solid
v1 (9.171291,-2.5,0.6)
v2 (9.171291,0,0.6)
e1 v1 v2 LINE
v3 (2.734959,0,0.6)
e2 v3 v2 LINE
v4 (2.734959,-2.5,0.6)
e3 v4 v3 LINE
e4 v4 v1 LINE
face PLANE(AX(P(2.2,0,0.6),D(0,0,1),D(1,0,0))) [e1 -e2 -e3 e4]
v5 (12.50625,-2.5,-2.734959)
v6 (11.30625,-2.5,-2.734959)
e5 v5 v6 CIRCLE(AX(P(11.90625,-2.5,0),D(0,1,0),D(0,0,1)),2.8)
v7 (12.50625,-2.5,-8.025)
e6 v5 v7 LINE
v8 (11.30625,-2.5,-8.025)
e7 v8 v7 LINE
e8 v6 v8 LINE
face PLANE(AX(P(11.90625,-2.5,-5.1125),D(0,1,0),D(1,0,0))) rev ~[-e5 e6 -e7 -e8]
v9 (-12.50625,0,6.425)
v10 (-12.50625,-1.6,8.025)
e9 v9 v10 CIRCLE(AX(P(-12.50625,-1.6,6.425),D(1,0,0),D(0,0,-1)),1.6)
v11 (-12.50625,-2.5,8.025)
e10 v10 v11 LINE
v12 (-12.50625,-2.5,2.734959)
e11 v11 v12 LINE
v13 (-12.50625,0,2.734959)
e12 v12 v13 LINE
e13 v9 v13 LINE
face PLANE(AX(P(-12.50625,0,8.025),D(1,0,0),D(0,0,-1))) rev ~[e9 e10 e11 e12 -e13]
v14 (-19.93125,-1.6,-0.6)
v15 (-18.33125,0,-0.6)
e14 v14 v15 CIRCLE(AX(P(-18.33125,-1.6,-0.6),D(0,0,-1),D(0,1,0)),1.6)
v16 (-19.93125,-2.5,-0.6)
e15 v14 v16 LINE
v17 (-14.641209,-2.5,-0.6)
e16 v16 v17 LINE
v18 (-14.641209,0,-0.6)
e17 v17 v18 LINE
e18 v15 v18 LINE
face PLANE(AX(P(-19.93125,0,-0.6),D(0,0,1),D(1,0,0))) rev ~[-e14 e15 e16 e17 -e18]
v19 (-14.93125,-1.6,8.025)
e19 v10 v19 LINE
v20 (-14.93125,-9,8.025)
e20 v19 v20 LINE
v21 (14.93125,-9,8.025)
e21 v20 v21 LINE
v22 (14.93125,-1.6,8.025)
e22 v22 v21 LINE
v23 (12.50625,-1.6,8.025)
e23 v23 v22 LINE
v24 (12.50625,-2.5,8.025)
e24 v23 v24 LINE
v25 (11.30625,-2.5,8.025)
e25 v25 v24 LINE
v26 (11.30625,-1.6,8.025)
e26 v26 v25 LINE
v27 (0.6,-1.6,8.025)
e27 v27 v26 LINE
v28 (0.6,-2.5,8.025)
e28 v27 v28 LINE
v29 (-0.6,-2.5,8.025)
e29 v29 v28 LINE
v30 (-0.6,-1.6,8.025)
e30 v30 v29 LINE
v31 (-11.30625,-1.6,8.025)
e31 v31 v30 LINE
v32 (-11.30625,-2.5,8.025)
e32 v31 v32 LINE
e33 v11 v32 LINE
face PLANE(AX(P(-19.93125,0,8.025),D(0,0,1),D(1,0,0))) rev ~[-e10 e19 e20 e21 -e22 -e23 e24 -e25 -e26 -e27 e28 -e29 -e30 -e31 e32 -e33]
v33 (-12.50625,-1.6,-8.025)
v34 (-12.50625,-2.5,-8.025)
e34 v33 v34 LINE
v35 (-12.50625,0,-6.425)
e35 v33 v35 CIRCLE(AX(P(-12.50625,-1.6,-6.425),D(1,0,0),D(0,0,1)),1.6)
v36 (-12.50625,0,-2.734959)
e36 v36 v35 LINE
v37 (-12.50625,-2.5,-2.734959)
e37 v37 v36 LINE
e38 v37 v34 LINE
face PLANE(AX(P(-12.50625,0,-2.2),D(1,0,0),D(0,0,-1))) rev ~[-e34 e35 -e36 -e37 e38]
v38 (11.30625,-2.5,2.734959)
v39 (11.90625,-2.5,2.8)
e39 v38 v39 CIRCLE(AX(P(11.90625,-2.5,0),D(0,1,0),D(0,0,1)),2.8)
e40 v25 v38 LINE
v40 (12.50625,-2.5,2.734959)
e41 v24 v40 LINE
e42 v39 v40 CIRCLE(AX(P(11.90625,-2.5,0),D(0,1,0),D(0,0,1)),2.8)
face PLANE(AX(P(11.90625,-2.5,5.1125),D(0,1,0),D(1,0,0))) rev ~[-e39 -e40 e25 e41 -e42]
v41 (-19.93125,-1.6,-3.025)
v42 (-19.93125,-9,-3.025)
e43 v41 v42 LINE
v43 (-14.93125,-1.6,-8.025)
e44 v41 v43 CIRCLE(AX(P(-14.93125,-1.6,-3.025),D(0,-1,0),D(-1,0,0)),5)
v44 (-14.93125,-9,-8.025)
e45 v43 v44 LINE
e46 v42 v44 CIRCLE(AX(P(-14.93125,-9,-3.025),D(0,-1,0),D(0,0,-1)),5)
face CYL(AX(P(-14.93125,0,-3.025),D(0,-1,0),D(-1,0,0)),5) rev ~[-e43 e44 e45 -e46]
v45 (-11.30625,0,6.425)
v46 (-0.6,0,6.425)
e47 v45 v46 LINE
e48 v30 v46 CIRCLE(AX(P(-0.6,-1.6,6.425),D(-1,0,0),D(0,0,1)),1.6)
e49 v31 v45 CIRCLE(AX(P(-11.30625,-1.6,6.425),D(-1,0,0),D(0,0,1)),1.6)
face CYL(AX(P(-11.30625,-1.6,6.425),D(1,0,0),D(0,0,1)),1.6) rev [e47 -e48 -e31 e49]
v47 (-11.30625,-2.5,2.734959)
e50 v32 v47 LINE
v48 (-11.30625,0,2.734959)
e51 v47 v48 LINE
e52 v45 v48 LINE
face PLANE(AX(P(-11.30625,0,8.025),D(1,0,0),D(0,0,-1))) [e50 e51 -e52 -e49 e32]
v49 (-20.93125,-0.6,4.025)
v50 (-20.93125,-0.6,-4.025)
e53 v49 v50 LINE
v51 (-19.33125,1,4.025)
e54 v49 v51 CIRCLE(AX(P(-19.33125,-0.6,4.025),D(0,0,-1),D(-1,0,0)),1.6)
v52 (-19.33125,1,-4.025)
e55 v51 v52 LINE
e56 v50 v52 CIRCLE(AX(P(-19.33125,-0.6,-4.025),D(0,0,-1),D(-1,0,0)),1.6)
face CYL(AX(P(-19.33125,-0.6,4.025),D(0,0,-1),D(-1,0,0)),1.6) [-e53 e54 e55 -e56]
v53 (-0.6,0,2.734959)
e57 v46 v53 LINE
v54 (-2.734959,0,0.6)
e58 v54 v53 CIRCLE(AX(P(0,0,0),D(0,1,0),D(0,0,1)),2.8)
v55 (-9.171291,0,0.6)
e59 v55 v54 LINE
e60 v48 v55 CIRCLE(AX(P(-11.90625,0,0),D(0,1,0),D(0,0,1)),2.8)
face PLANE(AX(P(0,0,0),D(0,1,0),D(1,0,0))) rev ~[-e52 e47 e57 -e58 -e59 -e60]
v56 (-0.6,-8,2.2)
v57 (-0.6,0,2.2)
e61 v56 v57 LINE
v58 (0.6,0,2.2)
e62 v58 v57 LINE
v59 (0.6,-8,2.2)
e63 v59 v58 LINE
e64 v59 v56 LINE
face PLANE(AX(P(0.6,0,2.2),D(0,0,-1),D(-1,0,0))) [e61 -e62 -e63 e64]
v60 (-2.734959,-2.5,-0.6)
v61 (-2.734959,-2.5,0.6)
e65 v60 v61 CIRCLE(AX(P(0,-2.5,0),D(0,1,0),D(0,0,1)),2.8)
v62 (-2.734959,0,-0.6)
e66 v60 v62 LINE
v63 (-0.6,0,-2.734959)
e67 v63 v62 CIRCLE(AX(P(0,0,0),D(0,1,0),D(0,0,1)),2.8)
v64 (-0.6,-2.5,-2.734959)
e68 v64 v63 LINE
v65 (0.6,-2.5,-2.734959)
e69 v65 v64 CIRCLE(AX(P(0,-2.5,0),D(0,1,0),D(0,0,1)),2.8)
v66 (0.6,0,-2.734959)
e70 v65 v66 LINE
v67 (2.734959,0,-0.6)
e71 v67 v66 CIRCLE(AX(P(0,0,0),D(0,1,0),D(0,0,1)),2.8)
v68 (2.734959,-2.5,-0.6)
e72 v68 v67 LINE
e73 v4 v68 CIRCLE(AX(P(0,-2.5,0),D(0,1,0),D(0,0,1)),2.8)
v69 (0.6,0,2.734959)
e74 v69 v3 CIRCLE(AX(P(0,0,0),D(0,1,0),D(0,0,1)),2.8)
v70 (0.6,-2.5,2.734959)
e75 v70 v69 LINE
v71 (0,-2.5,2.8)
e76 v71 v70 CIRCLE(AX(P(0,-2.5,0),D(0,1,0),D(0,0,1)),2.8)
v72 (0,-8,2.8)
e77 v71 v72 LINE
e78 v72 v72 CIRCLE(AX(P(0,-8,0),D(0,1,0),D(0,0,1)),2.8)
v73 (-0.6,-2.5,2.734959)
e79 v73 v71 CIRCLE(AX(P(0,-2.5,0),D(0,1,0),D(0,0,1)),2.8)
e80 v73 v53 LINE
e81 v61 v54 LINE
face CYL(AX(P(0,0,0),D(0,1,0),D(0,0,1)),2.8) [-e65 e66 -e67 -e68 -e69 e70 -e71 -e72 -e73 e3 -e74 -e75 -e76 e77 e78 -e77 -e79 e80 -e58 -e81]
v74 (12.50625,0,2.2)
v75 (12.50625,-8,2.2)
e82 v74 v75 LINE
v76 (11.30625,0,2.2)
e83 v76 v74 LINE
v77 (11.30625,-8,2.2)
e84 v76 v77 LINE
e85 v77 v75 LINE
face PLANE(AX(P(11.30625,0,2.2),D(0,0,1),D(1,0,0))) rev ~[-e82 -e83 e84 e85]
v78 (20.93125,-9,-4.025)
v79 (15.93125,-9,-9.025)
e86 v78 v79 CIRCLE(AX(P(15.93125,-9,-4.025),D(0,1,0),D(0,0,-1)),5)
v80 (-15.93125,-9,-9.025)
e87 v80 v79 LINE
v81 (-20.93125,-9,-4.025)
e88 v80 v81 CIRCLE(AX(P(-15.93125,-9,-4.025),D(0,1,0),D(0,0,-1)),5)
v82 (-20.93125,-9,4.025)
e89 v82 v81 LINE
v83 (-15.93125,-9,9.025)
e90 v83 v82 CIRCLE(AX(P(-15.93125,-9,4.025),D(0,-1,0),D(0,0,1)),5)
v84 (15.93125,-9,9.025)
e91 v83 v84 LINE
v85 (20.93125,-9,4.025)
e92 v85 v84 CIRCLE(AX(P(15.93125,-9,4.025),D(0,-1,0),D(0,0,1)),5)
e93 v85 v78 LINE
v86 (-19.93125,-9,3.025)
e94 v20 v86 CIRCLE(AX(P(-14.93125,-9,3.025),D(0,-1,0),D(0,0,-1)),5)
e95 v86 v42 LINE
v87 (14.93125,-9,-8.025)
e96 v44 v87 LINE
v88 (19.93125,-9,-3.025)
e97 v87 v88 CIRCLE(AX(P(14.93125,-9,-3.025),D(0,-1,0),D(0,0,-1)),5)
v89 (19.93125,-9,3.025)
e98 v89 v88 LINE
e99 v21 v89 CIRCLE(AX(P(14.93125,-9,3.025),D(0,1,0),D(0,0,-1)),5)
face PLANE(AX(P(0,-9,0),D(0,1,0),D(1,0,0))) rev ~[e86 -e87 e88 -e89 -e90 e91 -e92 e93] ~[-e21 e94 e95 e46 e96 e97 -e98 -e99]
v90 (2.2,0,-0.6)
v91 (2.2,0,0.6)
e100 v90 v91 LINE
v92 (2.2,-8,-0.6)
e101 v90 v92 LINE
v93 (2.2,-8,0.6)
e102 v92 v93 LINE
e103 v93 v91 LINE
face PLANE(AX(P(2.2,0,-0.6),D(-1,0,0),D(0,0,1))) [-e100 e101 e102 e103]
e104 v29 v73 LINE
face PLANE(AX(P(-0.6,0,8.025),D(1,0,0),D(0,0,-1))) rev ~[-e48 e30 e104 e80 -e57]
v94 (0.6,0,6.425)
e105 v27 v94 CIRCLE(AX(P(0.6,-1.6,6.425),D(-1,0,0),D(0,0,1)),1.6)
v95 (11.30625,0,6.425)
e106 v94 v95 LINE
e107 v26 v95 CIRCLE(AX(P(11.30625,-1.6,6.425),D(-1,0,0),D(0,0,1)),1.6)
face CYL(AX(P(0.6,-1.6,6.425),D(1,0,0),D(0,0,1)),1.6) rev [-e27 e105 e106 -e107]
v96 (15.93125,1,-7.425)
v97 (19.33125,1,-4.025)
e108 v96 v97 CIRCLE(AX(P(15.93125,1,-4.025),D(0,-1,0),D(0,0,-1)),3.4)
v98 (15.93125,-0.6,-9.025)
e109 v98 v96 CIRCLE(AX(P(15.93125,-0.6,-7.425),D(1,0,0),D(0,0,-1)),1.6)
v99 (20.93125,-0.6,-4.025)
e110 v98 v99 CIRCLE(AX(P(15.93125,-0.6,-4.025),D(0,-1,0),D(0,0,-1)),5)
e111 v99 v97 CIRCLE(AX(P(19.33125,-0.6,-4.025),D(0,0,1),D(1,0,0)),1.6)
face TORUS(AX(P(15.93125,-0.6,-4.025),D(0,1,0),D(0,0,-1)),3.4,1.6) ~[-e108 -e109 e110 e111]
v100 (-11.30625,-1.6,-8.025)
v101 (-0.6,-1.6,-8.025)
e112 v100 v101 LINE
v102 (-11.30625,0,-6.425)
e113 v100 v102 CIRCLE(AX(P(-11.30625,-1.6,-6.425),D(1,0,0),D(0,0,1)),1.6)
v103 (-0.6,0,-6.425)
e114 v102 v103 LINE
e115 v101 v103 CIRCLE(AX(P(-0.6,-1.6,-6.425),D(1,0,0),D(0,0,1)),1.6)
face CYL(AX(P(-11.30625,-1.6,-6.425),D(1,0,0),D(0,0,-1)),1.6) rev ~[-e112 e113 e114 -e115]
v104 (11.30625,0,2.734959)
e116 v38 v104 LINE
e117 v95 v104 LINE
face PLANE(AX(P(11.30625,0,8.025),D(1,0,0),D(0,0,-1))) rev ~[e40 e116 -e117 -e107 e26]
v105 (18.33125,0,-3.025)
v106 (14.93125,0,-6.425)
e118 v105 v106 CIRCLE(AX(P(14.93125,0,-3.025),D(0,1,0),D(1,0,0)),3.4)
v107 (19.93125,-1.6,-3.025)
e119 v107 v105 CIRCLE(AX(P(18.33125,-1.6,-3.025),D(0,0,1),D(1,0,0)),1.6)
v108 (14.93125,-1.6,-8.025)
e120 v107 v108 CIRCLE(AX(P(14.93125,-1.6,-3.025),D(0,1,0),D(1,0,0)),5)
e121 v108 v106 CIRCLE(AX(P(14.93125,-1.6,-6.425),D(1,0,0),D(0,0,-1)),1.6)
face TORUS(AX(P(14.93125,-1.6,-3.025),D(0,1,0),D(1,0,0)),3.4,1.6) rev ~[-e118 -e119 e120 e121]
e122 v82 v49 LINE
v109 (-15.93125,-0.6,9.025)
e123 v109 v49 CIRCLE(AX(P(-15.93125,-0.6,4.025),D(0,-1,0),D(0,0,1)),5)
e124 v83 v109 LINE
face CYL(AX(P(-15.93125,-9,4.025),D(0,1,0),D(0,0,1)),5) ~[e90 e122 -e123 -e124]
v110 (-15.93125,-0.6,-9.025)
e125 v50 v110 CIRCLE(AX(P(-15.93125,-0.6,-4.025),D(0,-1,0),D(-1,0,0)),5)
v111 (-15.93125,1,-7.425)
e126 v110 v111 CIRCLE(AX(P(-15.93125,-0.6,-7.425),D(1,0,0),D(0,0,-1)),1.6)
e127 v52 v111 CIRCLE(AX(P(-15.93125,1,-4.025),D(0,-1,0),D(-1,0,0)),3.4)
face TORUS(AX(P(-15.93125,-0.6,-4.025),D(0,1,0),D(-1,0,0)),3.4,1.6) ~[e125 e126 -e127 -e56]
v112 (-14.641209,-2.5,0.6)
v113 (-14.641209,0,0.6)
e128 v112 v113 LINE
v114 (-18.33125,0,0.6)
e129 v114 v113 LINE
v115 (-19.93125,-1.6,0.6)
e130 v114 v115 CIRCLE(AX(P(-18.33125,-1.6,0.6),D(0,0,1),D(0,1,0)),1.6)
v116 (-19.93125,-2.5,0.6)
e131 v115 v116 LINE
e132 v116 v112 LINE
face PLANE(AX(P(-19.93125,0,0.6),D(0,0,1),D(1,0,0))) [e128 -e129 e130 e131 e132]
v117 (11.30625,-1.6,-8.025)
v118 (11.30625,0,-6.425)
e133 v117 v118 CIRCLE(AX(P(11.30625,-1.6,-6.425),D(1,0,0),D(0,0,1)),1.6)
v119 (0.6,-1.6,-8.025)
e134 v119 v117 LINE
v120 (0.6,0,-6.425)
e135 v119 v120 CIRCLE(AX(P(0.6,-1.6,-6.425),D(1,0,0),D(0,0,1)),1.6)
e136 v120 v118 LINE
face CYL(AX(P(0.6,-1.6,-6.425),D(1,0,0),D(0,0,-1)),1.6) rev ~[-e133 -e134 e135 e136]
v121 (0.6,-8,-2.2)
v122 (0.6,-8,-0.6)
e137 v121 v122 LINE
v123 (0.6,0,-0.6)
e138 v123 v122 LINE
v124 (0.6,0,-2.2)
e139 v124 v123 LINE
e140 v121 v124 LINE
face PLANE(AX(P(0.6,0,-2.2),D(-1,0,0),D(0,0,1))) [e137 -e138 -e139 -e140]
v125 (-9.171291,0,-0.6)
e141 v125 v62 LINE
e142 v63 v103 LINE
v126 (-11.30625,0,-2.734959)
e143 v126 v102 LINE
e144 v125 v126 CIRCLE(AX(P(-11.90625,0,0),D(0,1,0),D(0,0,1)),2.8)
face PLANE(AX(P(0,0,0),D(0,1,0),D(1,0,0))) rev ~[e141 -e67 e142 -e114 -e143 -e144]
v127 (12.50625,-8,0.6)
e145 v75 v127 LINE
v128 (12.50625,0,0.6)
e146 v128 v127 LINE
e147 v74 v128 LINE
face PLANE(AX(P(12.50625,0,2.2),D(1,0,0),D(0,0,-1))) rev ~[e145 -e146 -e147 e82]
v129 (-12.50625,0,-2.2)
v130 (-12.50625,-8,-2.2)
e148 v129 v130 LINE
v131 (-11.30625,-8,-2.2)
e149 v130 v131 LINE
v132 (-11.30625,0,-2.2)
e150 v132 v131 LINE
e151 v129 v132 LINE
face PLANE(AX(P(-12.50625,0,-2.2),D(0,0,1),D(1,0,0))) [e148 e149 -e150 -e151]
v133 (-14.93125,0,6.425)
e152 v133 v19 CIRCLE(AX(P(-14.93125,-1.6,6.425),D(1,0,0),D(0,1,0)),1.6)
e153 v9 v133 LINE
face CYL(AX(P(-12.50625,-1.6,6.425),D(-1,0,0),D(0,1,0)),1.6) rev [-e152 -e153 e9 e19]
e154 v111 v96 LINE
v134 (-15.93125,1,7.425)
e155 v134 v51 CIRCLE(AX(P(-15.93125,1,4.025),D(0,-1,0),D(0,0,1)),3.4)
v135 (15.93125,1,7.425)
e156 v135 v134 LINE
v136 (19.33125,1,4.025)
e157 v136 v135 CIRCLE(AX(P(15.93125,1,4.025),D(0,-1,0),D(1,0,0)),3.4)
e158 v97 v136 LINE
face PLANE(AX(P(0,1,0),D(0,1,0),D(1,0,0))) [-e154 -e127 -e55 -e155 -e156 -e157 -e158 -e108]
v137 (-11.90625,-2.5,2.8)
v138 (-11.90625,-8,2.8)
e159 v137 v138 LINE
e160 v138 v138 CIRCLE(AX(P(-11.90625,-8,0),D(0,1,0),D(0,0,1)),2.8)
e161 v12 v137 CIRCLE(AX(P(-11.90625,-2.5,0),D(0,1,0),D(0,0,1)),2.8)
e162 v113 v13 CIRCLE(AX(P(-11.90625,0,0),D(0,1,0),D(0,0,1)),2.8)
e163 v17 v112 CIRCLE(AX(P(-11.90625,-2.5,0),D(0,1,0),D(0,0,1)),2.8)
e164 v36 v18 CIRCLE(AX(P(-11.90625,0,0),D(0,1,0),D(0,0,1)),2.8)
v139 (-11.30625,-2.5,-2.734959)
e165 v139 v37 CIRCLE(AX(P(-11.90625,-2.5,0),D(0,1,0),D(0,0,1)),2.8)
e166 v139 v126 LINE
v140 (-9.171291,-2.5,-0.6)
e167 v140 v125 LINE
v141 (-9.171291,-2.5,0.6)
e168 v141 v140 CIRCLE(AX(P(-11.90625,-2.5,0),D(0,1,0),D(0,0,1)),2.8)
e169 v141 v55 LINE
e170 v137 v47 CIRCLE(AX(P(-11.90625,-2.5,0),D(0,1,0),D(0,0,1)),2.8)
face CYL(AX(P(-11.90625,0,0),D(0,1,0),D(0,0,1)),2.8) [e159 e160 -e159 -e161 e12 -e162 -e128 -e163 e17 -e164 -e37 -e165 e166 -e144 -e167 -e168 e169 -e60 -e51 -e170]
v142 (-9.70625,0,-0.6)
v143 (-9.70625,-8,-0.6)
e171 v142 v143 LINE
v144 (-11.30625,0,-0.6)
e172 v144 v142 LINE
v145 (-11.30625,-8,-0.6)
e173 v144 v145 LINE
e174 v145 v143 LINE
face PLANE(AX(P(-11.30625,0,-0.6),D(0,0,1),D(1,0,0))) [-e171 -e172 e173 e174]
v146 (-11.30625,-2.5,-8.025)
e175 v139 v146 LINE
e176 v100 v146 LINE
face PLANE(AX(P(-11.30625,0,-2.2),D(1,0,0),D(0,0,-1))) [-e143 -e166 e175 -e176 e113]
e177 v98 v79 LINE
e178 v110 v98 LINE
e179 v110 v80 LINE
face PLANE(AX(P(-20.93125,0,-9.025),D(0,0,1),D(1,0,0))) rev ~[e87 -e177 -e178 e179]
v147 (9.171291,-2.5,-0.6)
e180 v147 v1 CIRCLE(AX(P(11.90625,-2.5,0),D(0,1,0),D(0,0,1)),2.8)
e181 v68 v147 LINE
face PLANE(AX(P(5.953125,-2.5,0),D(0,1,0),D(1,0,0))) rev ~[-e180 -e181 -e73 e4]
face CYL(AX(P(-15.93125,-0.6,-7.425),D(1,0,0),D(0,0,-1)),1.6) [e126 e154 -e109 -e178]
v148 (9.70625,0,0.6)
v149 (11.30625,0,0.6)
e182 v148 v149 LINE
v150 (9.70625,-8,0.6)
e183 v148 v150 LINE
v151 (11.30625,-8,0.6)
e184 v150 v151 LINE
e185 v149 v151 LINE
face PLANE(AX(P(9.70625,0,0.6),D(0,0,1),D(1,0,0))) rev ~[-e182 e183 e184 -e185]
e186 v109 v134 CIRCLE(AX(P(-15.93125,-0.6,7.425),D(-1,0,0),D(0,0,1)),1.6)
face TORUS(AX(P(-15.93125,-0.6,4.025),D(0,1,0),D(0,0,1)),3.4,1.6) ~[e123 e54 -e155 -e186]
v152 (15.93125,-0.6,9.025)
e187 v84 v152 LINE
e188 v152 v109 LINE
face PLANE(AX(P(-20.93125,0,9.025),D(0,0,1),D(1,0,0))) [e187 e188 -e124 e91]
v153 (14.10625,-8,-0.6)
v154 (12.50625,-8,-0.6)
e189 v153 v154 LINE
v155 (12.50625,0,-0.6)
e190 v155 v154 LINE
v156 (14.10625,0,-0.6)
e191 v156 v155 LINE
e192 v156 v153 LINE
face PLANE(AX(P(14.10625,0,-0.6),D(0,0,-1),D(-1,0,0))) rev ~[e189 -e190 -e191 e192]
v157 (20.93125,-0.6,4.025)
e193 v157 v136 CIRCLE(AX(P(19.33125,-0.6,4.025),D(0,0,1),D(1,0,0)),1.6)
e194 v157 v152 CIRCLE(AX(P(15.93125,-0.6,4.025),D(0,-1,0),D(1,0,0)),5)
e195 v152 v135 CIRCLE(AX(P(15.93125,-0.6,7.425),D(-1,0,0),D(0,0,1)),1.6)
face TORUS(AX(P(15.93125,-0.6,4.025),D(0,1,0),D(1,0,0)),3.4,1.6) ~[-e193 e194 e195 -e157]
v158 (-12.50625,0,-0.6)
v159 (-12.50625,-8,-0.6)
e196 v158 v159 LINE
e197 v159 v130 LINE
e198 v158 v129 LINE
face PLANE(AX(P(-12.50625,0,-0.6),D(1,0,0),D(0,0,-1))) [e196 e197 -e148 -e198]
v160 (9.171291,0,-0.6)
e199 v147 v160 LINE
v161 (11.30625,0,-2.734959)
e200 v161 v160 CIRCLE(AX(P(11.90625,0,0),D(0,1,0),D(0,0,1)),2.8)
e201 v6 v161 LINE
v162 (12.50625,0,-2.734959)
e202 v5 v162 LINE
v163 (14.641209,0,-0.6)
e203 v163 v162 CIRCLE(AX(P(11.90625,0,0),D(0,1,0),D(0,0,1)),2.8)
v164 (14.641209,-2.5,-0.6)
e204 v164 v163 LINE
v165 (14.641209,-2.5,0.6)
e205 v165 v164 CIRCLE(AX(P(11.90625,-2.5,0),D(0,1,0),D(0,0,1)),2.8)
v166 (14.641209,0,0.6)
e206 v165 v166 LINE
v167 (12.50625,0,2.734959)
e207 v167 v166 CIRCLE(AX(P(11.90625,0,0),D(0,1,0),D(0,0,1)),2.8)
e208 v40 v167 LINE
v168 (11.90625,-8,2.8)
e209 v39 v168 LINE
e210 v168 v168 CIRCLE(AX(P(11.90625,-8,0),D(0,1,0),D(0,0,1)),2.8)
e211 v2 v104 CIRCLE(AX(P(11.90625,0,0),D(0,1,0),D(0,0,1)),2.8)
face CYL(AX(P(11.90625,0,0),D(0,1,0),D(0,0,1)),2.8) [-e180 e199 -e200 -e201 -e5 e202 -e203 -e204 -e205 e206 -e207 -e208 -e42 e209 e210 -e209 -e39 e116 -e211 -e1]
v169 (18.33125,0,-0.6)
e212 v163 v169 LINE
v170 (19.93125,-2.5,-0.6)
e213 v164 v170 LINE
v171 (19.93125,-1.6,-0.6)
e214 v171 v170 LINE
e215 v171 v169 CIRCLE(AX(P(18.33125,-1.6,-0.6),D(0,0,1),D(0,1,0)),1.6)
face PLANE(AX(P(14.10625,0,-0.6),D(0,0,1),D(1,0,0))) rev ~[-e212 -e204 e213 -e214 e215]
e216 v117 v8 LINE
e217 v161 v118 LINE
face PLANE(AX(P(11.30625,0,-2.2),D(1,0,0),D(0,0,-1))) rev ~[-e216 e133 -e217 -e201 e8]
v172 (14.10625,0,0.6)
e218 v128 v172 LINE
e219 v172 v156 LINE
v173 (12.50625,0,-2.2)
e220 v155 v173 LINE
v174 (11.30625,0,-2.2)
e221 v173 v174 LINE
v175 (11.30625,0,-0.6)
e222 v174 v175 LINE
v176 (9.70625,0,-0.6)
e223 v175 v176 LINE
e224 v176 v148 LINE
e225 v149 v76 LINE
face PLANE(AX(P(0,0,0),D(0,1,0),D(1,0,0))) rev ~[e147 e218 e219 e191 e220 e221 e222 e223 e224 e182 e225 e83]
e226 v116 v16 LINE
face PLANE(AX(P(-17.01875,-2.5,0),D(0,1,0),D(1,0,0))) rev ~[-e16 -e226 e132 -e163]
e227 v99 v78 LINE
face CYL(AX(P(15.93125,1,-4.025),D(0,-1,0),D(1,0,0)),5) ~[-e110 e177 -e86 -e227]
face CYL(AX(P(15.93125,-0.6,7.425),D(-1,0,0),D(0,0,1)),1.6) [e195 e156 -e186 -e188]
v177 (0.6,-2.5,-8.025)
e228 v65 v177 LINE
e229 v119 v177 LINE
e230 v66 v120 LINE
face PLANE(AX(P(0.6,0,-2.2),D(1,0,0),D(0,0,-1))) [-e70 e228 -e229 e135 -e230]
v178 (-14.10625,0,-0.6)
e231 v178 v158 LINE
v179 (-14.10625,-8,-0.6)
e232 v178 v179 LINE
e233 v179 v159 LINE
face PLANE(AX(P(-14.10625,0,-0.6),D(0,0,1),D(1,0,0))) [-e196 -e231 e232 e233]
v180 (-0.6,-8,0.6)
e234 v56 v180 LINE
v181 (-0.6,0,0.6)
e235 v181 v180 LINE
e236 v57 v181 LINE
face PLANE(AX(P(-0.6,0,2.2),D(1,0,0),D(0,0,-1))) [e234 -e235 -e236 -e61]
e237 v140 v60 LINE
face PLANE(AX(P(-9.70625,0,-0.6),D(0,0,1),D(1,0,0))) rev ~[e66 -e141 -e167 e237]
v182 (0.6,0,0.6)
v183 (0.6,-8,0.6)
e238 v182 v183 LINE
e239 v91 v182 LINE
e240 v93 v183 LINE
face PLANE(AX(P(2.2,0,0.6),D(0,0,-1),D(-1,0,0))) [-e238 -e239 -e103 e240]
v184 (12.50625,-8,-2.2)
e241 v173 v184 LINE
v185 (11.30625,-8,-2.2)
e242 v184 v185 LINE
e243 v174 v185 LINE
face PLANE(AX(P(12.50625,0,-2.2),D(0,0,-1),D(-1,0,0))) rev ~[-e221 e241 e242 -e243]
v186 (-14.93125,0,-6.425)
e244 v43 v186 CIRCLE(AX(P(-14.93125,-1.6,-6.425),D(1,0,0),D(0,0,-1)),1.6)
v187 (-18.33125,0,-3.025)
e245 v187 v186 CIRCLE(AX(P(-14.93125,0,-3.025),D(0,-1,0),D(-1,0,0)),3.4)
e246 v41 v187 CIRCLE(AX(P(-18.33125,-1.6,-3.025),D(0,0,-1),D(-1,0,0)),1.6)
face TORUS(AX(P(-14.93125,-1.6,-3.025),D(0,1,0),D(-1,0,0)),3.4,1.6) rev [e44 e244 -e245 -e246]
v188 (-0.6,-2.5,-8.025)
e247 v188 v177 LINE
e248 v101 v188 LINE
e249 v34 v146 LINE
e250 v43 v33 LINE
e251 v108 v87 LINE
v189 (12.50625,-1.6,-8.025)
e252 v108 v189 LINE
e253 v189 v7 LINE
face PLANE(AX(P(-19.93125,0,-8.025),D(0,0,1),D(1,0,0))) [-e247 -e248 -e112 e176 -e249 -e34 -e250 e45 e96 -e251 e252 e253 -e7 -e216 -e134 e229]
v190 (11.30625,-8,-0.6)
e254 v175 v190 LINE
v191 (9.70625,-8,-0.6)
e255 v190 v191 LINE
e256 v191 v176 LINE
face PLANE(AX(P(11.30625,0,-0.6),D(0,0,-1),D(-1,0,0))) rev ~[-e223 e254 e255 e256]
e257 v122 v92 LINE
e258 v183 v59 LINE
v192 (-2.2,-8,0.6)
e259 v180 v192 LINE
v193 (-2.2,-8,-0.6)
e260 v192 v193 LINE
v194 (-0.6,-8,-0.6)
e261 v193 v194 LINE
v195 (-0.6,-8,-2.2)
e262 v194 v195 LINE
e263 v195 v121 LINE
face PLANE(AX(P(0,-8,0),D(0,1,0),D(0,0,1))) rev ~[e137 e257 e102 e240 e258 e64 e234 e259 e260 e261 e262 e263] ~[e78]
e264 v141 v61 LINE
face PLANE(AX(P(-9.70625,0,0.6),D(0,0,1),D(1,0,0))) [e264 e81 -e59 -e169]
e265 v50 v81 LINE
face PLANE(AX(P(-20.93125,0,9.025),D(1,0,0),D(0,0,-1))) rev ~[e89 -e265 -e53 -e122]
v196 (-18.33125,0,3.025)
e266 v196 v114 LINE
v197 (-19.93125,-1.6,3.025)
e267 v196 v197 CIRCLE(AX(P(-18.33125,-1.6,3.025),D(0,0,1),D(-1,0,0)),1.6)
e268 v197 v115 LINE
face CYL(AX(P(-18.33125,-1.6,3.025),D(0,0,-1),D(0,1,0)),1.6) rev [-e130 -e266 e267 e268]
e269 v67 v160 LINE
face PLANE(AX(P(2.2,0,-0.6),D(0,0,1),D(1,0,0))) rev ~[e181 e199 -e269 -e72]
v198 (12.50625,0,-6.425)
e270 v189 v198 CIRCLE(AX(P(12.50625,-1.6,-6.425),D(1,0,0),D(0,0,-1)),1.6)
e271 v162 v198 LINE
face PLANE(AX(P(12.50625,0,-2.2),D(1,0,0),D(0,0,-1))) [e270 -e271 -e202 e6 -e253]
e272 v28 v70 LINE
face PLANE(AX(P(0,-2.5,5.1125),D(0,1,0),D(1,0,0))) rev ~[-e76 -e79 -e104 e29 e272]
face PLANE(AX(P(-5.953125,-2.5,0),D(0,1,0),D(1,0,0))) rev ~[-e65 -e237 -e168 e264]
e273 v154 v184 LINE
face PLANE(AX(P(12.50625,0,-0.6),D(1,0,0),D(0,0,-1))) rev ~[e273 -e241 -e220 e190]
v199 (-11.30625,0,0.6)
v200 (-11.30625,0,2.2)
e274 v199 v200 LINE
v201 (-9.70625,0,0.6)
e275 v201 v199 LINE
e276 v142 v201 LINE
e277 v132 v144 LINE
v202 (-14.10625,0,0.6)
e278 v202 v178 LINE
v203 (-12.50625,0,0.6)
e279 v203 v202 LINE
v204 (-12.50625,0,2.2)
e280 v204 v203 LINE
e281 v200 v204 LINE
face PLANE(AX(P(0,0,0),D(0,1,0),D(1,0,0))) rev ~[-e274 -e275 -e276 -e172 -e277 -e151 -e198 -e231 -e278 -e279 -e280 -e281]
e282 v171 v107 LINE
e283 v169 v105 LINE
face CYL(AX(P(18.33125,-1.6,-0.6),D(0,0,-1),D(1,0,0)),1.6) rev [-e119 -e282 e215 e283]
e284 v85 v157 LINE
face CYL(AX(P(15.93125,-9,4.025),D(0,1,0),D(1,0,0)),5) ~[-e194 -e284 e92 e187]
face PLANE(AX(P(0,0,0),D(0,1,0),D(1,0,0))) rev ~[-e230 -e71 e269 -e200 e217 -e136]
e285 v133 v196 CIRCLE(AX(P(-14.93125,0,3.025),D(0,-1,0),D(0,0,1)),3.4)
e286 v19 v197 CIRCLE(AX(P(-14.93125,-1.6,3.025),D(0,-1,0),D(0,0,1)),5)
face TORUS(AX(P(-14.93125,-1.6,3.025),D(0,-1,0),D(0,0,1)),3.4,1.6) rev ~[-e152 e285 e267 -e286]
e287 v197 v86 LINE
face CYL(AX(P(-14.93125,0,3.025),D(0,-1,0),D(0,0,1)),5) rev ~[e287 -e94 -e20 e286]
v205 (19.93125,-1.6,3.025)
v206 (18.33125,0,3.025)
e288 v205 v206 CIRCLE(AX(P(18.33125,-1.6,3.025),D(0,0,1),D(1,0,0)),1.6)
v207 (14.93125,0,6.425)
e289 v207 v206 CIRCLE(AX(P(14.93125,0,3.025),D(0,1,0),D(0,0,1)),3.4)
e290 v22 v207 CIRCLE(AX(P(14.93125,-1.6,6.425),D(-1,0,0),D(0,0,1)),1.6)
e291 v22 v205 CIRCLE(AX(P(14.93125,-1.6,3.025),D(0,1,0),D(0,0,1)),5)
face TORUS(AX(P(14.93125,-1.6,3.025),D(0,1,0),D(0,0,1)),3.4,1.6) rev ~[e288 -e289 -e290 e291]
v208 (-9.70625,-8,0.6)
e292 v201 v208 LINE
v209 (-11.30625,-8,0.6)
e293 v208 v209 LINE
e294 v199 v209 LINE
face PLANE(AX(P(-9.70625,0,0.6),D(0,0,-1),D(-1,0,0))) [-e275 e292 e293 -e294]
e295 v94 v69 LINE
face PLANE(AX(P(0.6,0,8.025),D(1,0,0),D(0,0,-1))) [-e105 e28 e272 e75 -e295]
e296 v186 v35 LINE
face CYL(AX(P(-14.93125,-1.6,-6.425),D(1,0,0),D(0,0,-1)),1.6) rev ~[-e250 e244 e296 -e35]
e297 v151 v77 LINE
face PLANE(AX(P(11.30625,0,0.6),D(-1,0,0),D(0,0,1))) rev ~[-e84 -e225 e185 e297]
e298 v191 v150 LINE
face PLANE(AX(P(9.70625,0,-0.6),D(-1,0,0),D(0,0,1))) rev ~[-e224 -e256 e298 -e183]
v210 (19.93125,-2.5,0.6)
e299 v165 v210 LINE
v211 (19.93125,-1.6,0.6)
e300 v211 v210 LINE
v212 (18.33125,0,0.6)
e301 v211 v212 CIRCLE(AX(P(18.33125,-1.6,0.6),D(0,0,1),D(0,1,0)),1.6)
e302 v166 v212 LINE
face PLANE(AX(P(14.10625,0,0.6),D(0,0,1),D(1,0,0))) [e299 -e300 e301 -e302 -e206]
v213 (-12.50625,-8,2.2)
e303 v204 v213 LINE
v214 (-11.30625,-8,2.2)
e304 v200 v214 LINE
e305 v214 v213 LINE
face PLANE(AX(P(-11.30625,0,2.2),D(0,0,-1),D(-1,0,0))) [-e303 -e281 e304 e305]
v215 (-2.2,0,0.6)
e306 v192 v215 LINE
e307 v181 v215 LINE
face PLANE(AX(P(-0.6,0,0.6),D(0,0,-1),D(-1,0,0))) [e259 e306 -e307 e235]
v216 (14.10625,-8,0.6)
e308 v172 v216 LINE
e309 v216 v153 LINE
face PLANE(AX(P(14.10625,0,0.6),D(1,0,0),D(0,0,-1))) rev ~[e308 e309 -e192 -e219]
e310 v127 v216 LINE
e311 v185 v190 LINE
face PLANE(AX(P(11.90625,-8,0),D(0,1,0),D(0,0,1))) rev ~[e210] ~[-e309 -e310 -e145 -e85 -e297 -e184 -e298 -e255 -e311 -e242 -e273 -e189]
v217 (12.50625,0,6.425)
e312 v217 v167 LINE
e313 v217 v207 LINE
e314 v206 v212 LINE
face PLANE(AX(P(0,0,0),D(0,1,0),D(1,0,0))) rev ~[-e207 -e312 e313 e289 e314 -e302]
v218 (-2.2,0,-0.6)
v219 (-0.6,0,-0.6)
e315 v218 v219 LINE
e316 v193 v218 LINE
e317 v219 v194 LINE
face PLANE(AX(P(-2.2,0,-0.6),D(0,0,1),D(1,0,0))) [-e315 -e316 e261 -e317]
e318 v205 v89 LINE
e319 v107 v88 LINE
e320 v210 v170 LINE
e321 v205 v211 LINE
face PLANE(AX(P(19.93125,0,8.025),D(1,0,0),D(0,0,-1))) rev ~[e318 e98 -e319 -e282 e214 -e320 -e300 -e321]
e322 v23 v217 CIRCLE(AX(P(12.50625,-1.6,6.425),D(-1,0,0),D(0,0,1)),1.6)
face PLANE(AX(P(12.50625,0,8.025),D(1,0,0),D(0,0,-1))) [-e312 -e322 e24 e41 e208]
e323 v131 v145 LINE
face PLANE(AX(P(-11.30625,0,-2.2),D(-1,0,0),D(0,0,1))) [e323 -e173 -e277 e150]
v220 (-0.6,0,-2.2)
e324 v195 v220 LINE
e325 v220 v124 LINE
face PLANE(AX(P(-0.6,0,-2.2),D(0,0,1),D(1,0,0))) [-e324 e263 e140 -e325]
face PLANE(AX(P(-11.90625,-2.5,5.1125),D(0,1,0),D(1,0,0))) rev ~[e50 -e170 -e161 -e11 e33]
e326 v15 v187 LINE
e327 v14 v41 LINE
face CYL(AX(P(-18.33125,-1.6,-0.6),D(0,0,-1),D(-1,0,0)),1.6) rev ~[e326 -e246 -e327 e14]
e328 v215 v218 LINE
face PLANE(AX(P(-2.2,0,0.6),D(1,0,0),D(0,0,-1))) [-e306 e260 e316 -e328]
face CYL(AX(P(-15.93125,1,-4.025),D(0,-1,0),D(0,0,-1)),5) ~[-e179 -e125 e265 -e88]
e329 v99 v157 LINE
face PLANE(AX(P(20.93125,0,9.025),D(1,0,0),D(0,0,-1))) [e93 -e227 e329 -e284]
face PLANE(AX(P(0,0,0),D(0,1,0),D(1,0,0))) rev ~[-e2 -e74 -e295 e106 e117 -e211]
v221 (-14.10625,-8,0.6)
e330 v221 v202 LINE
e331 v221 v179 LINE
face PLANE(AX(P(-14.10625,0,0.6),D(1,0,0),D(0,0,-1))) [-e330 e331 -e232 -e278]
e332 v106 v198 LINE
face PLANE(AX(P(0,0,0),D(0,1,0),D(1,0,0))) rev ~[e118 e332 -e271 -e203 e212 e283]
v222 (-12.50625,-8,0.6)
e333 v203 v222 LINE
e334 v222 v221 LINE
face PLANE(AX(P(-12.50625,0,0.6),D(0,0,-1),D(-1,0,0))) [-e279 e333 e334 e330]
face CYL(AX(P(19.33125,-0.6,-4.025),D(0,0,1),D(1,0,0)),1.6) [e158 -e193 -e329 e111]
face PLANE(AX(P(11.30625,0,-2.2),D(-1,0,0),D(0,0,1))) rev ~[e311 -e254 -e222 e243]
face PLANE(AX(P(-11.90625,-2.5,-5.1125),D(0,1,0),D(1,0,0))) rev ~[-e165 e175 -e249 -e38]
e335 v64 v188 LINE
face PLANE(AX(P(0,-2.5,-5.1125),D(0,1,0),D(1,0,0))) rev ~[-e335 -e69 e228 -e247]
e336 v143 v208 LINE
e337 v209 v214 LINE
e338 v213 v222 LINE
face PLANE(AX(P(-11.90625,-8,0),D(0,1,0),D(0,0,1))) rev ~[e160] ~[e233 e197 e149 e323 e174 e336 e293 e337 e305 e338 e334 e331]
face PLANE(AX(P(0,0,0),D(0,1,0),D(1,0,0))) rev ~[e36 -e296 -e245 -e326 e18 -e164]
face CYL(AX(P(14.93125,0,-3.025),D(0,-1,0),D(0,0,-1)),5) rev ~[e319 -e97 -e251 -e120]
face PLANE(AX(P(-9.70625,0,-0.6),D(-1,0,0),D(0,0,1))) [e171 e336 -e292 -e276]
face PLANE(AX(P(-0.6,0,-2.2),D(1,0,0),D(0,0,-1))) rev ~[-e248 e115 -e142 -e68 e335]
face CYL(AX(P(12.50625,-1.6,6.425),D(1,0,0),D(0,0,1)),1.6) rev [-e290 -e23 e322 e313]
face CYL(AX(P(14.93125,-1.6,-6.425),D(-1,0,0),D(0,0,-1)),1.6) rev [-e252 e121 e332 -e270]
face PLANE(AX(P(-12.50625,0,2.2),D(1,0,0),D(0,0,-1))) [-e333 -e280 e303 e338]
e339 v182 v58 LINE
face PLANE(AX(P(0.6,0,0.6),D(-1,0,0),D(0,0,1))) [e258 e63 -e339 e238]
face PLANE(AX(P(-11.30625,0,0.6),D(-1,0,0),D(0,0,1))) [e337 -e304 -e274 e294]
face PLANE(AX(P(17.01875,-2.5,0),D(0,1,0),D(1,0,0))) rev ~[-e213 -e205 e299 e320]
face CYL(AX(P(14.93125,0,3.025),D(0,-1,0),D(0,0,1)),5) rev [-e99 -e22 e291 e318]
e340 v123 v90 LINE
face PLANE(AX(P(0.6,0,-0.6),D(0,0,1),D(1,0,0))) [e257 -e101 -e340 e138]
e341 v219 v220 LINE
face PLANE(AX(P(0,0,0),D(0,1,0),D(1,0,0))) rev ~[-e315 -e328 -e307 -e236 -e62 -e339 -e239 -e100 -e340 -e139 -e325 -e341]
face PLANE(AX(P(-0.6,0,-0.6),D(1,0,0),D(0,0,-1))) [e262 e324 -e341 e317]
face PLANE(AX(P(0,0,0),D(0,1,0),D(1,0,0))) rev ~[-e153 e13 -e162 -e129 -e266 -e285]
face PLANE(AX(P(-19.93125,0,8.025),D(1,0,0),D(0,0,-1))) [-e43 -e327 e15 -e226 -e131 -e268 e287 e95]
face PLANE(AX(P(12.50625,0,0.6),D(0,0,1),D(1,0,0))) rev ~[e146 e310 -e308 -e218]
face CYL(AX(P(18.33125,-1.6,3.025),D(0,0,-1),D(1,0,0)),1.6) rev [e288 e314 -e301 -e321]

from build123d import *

# Parameters (mm, degrees)
SKETCH_1_R        = 2.8
EXTRUDE_1_DEPTH   = 8
EXTRUDE_1_2_DEPTH = 8
EXTRUDE_1_3_DEPTH = 8
SKETCH_2_W        = 41.8625
SKETCH_2_H        = 18.05
EXTRUDE_2_DEPTH   = 1
SKETCH_3_W        = 41.8625
SKETCH_3_H        = 18.05
SKETCH_3_W_2      = 39.8625
SKETCH_3_H_2      = 16.05
EXTRUDE_3_DEPTH   = 9
SKETCH_4_W        = 7.50625
SKETCH_4_H        = 1.2
SKETCH_4_W_2      = 1.2
SKETCH_4_H_2      = 5.825
SKETCH_4_W_3      = 5.825
EXTRUDE_4_DEPTH   = 2.5
FILLET_1_R        = 5
FILLET_2_R        = 1.6


with BuildPart() as part:
    # 草图1 → 凸台-拉伸1 (new body)
    with BuildSketch(Plane(origin=(0, 0, 0), x_dir=(1, 0, 0), z_dir=(0, 1, 0))):
        with Locations(Location((0, 0, 0), (0, 0, 270))):
            Circle(SKETCH_1_R)
        Polygon((2.2, 0.6), (2.2, -0.6), (0.6, -0.6), (0.6, -2.2), (-0.6, -2.2), (-0.6, -0.6), (-2.2, -0.6), (-2.2, 0.6), (-0.6, 0.6), (-0.6, 2.2), (0.6, 2.2), (0.6, 0.6), align=None, mode=Mode.SUBTRACT)
    extrude(amount=-EXTRUDE_1_DEPTH)

    # 草图2 → 凸台-拉伸2 (add)
    with BuildSketch(Plane(origin=(0, 0, 0), x_dir=(1, 0, 0), z_dir=(0, 1, 0))):
        Rectangle(SKETCH_2_W, SKETCH_2_H)
    extrude(amount=EXTRUDE_2_DEPTH)

    # 草图3 → 凸台-拉伸3 (add)
    with BuildSketch(Plane(origin=(0, 0, 0), x_dir=(1, 0, 0), z_dir=(0, 1, 0))):
        Rectangle(SKETCH_3_W, SKETCH_3_H)
        Rectangle(SKETCH_3_W_2, SKETCH_3_H_2, mode=Mode.SUBTRACT)
    extrude(amount=-EXTRUDE_3_DEPTH)



with BuildPart() as body_2:
    # 草图1 → Extrude 1 2 (new body)
    with BuildSketch(Plane(origin=(0, 0, 0), x_dir=(1, 0, 0), z_dir=(0, 1, 0))):
        with Locations(Location((-11.90625, 0, 0), (0, 0, 270))):
            Circle(SKETCH_1_R)
        Polygon((-14.10625, -0.6), (-14.10625, 0.6), (-12.50625, 0.6), (-12.50625, 2.2), (-11.30625, 2.2), (-11.30625, 0.6), (-9.70625, 0.6), (-9.70625, -0.6), (-11.30625, -0.6), (-11.30625, -2.2), (-12.50625, -2.2), (-12.50625, -0.6), align=None, mode=Mode.SUBTRACT)
    extrude(amount=-EXTRUDE_1_2_DEPTH)


with BuildPart() as body_3:
    # 草图1 → Extrude 1 3 (new body)
    with BuildSketch(Plane(origin=(0, 0, 0), x_dir=(1, 0, 0), z_dir=(0, 1, 0))):
        with Locations(Location((11.90625, 0, 0), (0, 0, 270))):
            Circle(SKETCH_1_R)
        Polygon((9.70625, 0.6), (9.70625, -0.6), (11.30625, -0.6), (11.30625, -2.2), (12.50625, -2.2), (12.50625, -0.6), (14.10625, -0.6), (14.10625, 0.6), (12.50625, 0.6), (12.50625, 2.2), (11.30625, 2.2), (11.30625, 0.6), align=None, mode=Mode.SUBTRACT)
    extrude(amount=-EXTRUDE_1_3_DEPTH)


with BuildPart() as part_1:
    add(part.part)

    add(body_2.part)  # 凸台-拉伸4 merges body 2

    add(body_3.part)  # 凸台-拉伸4 merges body 3
    # 草图4 → 凸台-拉伸4 (add)
    with BuildSketch(Plane(origin=(0, 0, 0), x_dir=(1, 0, 0), z_dir=(0, 1, 0))):
        with Locations((5.953125, 0)):
            Rectangle(SKETCH_4_W, SKETCH_4_H)
        with Locations((11.90625, 5.1125)):
            Rectangle(SKETCH_4_W_2, SKETCH_4_H_2)
        with Locations((11.90625, -5.1125)):
            Rectangle(SKETCH_4_W_2, SKETCH_4_H_2)
        with Locations((17.01875, 0)):
            Rectangle(SKETCH_4_W_3, SKETCH_4_H)
        with Locations((0, 5.1125)):
            Rectangle(SKETCH_4_W_2, SKETCH_4_H_2)
        with Locations((-5.953125, 0)):
            Rectangle(SKETCH_4_W, SKETCH_4_H)
        with Locations((0, -5.1125)):
            Rectangle(SKETCH_4_W_2, SKETCH_4_H_2)
        with Locations((-11.90625, 5.1125)):
            Rectangle(SKETCH_4_W_2, SKETCH_4_H_2)
        with Locations((-11.90625, -5.1125)):
            Rectangle(SKETCH_4_W_2, SKETCH_4_H_2)
        with Locations((-17.01875, 0)):
            Rectangle(SKETCH_4_W_3, SKETCH_4_H)
    extrude(amount=-EXTRUDE_4_DEPTH)

    # 圆角1
    fillet_1_edges = [part_1.edges().sort_by_distance(p)[0] for p in [
        (20.93125, -4, 9.025),
        (20.93125, -4, -9.025),
        (-20.93125, -4, -9.025),
        (-20.93125, -4, 9.025),
        (-19.93125, -4.5, 8.025),
        (-19.93125, -4.5, -8.025),
        (19.93125, -4.5, -8.025),
        (19.93125, -4.5, 8.025),
    ]]
    fillet(fillet_1_edges, radius=FILLET_1_R)

    # 圆角2
    fillet_2_edges = [part_1.edges().sort_by_distance(p)[0] for p in [
        (5.953125, 0, -8.025),
        (13.71875, 0, 8.025),
        (19.93125, 0, -1.8125),
        (-5.953125, 0, -8.025),
        (5.953125, 0, 8.025),
        (-13.71875, 0, -8.025),
        (-5.953125, 0, 8.025),
        (-19.93125, 0, 1.8125),
        (0, 1, -9.025),
        (20.93125, 1, 0),
        (-20.93125, 1, 0),
        (0, 1, 9.025),
        (-19.466783906, 1, 7.560533906),
        (-19.466783906, 1, -7.560533906),
        (19.466783906, 1, 7.560533906),
        (19.466783906, 1, -7.560533906),
        (13.71875, 0, -8.025),
        (18.466783906, 0, -6.560533906),
        (19.93125, 0, 1.8125),
        (18.466783906, 0, 6.560533906),
        (-13.71875, 0, 8.025),
        (-19.93125, 0, -1.8125),
        (-18.466783906, 0, -6.560533906),
        (-18.466783906, 0, 6.560533906),
    ]]
    fillet(fillet_2_edges, radius=FILLET_2_R)


solid = part_1.part
